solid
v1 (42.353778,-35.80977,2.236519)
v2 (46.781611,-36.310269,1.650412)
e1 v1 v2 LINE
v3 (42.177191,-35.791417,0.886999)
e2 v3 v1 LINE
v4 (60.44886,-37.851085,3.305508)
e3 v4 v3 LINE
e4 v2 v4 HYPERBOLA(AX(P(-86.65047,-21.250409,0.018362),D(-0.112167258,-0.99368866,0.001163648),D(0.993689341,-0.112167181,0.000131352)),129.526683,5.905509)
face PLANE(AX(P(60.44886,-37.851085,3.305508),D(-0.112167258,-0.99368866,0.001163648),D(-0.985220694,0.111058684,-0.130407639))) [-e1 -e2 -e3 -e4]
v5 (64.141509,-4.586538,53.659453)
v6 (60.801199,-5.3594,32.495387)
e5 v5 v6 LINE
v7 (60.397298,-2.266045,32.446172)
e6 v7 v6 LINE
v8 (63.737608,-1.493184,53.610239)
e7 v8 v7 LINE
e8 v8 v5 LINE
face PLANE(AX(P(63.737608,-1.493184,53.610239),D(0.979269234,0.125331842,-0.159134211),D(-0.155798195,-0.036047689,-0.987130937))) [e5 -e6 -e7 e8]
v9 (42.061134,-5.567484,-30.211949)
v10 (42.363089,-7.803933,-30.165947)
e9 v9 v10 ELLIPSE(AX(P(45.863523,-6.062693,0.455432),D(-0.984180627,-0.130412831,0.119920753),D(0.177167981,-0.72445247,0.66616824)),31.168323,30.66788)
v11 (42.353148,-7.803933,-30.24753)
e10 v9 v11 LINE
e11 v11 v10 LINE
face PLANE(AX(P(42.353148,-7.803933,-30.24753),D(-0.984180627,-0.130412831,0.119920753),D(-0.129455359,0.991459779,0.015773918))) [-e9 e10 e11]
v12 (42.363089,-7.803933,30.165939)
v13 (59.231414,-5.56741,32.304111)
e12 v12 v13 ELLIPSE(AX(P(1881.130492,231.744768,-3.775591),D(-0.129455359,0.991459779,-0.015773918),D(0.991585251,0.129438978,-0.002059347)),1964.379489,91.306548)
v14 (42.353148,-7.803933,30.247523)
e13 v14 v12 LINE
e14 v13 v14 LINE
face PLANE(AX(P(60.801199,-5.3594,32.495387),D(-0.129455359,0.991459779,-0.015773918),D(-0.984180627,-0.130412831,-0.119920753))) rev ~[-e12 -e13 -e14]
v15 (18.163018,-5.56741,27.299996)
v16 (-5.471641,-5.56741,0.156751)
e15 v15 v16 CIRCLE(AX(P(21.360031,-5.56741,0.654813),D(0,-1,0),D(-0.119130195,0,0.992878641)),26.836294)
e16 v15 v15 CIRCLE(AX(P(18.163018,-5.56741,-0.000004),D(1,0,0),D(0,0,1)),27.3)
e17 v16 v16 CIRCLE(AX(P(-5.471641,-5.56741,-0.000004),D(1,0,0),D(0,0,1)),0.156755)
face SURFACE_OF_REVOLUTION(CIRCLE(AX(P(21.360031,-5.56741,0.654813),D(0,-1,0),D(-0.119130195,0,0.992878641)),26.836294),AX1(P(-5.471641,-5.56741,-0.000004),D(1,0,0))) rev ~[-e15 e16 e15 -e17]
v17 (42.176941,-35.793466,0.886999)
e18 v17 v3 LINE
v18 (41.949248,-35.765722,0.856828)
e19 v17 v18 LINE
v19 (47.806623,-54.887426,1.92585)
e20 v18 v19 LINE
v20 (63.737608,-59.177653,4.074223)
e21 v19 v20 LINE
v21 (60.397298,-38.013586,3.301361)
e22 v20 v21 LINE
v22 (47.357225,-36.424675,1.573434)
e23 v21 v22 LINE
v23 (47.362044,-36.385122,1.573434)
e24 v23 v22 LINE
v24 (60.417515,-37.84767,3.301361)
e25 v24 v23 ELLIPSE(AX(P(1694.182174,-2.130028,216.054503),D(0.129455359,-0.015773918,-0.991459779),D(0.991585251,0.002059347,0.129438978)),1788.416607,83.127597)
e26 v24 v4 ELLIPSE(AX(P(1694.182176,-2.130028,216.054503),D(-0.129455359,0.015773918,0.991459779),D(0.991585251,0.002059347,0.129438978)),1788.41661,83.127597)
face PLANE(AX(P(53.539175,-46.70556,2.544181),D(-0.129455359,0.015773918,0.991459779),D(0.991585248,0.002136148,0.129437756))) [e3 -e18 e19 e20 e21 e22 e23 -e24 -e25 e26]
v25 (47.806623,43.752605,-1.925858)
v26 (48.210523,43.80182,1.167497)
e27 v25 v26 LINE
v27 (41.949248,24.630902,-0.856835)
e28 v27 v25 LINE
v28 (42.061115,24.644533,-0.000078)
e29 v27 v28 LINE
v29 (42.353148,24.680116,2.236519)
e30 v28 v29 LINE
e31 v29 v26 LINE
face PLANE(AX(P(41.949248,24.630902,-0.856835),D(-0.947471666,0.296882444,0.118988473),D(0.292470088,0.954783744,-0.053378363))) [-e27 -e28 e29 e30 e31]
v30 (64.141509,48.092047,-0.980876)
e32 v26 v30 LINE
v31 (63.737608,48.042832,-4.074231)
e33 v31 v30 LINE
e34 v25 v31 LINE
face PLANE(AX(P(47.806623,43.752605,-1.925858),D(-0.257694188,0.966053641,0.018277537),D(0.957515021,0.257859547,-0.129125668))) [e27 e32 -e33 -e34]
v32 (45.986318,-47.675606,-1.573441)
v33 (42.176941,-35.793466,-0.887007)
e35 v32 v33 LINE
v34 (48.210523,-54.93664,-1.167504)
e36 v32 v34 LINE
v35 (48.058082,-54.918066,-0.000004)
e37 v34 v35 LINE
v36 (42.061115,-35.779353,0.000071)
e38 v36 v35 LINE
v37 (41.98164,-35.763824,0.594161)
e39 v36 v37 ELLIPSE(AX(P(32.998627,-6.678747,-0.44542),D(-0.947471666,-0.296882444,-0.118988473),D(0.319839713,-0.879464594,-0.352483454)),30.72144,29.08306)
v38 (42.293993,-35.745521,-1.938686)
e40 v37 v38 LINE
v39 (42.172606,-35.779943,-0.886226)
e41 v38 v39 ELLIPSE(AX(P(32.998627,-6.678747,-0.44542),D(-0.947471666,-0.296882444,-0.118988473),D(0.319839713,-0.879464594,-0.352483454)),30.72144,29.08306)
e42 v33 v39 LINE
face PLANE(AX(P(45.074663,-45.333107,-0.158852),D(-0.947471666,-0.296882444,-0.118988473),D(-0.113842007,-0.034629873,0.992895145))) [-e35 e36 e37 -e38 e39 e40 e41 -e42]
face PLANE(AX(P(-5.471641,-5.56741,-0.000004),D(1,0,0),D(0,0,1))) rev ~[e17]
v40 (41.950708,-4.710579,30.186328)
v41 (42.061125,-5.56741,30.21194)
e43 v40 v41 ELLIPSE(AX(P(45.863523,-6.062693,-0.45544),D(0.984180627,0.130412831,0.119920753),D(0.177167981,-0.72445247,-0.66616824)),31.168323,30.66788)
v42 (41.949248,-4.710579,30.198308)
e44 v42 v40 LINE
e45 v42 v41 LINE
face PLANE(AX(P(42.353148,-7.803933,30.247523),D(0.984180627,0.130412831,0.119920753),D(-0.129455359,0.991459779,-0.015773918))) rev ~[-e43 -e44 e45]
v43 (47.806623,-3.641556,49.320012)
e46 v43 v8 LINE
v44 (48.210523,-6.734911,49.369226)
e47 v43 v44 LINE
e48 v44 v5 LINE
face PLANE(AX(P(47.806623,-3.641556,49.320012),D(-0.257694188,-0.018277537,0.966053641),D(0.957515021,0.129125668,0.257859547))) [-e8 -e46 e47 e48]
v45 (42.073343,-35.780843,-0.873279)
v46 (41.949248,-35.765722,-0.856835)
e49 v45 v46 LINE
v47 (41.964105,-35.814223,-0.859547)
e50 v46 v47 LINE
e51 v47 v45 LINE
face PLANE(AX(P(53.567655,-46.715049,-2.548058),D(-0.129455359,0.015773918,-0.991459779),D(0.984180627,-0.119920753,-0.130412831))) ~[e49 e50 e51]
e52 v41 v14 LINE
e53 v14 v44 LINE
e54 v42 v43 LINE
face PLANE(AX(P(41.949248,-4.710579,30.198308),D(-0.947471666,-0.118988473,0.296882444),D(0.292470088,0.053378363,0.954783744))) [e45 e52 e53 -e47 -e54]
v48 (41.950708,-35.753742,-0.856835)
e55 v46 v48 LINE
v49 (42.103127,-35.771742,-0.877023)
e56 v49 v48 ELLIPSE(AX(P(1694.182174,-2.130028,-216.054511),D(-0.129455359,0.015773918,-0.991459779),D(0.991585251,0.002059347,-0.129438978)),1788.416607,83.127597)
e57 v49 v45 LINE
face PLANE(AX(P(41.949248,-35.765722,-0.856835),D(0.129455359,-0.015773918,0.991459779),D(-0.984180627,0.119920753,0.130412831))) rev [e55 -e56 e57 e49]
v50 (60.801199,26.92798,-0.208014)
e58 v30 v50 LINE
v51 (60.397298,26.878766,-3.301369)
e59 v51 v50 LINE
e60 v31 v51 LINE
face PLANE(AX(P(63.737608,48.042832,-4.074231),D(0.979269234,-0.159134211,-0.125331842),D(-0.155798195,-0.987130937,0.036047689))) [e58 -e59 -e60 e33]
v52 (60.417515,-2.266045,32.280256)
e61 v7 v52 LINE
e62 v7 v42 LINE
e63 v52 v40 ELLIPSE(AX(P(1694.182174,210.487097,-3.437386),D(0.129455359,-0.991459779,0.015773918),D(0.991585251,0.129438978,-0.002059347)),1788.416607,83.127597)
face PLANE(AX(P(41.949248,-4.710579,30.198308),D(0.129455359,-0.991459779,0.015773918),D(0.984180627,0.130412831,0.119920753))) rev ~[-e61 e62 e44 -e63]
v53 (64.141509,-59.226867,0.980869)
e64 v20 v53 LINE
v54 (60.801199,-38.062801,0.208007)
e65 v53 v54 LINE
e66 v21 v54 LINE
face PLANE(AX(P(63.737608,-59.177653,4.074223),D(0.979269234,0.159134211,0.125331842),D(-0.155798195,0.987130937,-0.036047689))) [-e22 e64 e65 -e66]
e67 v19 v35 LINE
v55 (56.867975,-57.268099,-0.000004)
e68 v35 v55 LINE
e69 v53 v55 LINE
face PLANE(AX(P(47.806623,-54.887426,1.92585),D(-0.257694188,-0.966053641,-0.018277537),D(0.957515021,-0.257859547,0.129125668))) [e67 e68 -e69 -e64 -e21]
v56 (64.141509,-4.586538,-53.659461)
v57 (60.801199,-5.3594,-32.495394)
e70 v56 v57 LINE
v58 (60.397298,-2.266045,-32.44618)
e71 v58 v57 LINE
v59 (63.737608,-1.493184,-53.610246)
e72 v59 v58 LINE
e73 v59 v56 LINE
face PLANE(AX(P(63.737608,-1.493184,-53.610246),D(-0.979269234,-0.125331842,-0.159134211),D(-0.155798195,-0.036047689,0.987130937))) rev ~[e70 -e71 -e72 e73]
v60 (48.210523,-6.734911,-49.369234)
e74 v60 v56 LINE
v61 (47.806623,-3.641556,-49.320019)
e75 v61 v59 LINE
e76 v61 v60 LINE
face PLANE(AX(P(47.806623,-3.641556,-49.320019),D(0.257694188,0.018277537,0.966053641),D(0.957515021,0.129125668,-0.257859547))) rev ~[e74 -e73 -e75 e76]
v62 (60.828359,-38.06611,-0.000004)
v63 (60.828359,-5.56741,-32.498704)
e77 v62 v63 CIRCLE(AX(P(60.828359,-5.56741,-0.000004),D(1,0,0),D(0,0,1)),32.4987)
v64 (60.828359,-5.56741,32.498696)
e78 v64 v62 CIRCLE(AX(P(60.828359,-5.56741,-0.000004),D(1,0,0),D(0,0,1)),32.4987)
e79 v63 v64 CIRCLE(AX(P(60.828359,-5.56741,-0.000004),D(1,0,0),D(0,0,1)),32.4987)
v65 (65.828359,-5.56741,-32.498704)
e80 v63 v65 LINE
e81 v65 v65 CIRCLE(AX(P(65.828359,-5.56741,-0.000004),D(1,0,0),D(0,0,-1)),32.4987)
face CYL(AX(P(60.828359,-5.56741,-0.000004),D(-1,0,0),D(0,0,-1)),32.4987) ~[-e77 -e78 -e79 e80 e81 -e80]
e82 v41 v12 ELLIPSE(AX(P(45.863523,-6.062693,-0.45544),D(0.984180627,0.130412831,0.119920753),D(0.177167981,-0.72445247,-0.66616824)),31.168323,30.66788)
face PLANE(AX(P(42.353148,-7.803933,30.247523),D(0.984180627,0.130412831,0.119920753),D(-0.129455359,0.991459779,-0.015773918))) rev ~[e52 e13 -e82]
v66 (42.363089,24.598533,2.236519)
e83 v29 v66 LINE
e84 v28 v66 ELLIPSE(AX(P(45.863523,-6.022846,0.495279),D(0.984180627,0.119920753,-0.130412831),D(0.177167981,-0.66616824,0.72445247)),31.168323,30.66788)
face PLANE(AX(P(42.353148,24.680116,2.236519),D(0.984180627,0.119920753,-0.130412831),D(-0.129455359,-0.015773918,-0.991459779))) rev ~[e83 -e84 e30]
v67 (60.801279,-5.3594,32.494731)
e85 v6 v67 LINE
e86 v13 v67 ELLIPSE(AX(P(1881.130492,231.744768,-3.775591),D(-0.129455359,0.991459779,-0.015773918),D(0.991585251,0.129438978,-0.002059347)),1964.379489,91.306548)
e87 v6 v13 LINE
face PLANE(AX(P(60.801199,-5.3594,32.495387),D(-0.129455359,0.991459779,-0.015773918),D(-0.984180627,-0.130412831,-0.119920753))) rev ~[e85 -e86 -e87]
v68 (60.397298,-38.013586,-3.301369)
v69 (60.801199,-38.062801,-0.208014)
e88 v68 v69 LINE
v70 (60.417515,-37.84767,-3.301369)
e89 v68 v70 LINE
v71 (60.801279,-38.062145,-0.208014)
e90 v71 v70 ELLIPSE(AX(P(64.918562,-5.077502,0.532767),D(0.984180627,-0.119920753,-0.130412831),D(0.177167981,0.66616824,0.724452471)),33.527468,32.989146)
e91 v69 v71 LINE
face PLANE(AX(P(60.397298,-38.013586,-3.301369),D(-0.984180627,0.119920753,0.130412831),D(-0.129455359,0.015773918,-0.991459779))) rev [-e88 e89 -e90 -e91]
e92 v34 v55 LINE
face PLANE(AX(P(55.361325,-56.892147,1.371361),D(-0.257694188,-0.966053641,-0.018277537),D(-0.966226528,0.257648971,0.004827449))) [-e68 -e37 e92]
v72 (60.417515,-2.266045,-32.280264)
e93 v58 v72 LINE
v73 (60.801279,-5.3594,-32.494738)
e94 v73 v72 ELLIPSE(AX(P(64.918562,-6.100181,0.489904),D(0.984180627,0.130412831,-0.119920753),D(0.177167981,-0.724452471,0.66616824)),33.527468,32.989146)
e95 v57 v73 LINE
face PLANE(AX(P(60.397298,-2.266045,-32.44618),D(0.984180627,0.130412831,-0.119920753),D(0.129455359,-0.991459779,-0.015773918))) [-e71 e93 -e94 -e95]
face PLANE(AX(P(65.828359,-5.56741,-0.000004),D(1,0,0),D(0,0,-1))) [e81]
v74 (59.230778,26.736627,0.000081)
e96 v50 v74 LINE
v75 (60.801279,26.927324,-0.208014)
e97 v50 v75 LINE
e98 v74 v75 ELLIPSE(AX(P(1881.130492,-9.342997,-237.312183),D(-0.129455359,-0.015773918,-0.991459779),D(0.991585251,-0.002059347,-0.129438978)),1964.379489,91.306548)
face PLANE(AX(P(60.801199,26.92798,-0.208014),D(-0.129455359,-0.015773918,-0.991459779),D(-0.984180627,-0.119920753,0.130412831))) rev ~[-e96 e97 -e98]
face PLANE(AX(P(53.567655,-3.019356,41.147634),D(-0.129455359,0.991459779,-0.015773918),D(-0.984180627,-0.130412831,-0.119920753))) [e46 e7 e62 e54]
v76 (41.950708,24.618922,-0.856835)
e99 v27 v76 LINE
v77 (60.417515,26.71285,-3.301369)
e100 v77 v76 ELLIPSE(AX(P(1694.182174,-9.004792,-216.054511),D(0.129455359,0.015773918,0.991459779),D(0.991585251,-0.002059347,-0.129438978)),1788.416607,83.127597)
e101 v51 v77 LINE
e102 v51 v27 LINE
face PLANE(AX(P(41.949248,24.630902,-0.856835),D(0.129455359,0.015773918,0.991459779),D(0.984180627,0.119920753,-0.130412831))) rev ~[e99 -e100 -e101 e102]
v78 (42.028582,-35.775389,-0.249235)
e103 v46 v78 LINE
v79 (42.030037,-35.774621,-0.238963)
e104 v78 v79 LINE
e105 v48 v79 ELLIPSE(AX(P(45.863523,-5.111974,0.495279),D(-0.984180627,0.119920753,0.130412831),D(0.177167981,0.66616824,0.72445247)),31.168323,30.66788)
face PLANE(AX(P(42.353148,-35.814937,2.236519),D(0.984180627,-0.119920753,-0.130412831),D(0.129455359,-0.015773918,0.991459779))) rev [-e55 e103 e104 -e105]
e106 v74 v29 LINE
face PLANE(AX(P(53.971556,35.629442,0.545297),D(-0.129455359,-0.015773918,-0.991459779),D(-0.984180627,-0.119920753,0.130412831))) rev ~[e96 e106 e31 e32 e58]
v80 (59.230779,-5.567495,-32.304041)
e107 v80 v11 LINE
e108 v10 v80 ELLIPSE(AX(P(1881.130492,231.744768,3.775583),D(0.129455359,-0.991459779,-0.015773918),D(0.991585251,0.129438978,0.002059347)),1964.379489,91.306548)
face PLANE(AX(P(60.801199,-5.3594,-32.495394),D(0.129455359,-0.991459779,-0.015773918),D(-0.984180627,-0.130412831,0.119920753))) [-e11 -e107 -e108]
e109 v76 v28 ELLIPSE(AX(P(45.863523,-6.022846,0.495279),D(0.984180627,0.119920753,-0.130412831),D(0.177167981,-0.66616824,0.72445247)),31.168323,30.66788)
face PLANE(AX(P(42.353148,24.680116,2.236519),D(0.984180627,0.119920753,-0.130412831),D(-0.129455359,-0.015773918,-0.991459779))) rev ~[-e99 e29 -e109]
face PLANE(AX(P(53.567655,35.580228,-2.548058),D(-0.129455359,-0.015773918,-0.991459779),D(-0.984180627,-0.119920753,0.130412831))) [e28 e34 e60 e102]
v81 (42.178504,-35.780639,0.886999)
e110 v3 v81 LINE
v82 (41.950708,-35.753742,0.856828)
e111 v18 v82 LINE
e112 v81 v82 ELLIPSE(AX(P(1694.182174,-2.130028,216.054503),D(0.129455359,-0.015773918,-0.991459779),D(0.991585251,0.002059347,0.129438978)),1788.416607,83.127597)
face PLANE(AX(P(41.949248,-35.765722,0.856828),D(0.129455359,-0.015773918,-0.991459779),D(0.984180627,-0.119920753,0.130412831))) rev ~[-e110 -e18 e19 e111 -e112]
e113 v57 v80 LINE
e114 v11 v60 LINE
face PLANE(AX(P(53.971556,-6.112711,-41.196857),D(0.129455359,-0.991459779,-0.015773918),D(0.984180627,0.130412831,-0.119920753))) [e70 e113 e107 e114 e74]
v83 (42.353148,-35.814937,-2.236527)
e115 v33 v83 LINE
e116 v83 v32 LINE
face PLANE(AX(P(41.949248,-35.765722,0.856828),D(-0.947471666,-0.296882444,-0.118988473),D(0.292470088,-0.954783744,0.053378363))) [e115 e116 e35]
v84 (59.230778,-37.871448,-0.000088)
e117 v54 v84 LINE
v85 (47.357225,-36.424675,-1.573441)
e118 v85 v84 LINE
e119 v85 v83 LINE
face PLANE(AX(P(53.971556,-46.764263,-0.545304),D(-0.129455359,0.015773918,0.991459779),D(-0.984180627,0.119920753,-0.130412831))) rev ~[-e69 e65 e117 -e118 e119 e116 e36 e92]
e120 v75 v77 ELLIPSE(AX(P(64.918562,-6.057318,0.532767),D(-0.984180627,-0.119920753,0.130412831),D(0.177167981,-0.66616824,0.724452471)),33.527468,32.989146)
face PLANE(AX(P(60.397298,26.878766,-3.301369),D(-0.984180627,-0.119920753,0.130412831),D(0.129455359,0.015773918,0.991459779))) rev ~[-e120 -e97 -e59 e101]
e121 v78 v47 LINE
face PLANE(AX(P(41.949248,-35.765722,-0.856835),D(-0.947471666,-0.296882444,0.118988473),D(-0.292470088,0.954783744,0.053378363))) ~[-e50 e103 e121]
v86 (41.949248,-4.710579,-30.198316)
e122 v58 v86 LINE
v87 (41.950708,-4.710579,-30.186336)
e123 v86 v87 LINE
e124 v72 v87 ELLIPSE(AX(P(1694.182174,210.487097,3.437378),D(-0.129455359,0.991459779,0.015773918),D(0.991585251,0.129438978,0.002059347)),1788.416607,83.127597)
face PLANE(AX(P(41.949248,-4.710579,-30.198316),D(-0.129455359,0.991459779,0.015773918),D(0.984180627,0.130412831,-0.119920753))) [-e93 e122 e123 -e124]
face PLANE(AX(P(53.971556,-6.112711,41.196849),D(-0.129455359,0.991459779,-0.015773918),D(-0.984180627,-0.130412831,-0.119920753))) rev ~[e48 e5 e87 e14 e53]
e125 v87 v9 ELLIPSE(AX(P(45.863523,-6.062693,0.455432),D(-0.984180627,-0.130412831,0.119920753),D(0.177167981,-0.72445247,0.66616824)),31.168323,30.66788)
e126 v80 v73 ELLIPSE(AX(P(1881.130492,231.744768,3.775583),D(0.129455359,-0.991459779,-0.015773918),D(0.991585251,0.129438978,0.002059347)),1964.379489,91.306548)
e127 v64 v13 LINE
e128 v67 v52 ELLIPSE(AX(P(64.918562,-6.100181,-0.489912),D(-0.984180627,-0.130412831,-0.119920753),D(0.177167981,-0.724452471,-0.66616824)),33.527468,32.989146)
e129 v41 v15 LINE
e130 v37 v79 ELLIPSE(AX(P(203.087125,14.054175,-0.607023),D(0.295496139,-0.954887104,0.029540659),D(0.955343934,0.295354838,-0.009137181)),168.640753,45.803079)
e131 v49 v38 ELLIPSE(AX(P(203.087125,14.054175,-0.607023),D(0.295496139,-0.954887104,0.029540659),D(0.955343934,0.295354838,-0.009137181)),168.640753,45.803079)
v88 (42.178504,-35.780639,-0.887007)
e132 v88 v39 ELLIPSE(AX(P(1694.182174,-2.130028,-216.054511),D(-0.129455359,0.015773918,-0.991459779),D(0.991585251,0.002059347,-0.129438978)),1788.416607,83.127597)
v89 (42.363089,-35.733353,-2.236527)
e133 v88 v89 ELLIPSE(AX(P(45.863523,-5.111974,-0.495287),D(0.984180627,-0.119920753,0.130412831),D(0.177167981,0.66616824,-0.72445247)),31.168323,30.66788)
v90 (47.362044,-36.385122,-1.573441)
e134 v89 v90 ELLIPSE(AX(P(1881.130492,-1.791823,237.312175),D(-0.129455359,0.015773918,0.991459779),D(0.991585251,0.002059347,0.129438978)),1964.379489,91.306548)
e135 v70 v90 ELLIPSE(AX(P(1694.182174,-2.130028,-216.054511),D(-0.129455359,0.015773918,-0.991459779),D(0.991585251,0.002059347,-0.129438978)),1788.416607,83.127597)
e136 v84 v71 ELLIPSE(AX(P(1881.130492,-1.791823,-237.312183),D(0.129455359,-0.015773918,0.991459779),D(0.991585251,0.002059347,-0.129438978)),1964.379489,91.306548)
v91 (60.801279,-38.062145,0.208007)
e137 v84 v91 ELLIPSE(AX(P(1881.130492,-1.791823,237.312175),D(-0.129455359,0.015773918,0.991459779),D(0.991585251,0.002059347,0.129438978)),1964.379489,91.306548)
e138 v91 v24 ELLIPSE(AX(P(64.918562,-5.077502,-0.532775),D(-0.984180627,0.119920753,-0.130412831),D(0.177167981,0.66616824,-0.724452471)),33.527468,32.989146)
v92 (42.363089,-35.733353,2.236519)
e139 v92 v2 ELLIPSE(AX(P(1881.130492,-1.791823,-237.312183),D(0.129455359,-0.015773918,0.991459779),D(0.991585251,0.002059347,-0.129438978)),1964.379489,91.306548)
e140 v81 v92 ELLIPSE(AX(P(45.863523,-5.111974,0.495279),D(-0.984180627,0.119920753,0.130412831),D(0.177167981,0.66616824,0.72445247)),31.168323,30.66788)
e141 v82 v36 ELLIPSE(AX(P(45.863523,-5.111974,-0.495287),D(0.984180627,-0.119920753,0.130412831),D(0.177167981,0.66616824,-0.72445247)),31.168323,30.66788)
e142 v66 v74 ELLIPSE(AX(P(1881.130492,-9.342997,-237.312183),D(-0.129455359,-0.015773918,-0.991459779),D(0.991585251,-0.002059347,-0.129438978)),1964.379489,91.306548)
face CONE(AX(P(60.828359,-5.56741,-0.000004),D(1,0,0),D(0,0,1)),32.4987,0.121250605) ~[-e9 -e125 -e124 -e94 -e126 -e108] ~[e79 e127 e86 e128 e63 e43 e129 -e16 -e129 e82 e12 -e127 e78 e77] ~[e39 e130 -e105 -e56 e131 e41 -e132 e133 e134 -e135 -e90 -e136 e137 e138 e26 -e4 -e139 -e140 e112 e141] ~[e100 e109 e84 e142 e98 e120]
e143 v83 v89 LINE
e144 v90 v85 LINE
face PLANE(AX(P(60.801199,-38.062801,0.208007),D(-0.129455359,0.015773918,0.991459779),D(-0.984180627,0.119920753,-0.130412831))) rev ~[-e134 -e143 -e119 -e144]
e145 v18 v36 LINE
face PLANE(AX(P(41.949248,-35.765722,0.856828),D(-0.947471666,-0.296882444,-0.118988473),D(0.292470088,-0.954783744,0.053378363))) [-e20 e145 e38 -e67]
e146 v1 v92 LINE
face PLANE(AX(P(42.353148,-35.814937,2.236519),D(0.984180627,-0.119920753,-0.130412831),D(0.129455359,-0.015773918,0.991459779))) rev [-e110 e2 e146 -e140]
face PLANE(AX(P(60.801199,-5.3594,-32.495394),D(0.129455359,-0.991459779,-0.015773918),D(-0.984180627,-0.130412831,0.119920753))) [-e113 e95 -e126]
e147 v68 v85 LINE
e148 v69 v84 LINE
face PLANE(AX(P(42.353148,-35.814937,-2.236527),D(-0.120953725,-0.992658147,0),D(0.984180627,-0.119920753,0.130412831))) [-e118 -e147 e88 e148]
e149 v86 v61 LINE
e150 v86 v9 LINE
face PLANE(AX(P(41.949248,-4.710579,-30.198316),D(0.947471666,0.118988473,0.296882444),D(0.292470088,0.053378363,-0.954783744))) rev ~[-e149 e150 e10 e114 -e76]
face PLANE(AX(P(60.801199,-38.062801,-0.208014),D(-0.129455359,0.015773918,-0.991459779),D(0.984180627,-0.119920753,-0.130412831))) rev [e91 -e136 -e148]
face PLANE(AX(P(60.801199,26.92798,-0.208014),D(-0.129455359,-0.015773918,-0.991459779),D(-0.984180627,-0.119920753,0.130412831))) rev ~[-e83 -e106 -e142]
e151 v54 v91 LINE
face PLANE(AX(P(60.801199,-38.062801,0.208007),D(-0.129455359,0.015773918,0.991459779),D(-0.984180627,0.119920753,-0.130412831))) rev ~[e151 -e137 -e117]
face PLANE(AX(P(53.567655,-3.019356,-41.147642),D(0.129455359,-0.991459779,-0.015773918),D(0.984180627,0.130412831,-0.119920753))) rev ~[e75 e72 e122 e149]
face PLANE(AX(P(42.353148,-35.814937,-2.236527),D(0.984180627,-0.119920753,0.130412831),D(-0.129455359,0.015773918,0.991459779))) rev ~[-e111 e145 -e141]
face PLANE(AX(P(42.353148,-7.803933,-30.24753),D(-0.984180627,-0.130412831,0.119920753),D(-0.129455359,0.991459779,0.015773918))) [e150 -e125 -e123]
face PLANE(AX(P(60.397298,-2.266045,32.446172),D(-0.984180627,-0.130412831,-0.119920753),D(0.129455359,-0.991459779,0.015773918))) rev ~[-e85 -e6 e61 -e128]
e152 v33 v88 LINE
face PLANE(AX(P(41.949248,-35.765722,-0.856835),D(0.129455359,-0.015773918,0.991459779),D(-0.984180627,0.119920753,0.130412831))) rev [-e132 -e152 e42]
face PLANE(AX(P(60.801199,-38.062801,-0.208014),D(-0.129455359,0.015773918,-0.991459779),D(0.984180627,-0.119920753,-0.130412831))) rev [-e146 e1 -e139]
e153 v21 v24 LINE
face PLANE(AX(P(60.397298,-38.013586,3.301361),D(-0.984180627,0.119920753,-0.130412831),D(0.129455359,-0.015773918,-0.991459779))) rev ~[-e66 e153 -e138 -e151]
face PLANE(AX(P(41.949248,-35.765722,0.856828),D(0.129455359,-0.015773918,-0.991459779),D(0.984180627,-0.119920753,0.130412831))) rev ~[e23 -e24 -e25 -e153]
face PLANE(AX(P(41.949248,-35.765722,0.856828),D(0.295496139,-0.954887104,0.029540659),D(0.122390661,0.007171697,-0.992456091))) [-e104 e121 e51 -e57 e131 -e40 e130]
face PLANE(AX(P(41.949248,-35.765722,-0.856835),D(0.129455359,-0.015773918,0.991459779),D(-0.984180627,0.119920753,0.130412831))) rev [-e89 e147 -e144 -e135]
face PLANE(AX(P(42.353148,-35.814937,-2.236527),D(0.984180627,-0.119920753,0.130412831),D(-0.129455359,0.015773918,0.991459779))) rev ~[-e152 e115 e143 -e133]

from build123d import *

# Parameters (mm, degrees)
BOSS_EXTRUDE1_DEPTH  = 4
BOSS_EXTRUDE5_DEPTH  = 0.5
CIRPATTERN27_COUNT   = 2
CIRPATTERN28_COUNT   = 2
CIRPATTERN28_ANGLE   = 270
MIRROR5_COPY_1_DEPTH = 4
MIRROR5_COPY_2_DEPTH = 0.5
CUT_EXTRUDE1_DEPTH   = 7.5
CUT_EXTRUDE5_DEPTH   = 7.5
CUT_EXTRUDE8_DEPTH   = 7.5
CUT_EXTRUDE9_DEPTH   = 7.5
SCALE1_SCALE         = 0.78
SKETCH35_R           = 32.4987
BOSS_EXTRUDE6_DEPTH  = 5


with BuildPart() as part:
    # Sketch1 → Revolve1 (revolve)
    with BuildSketch(Plane.XY, mode=Mode.PRIVATE) as revolve1_sk:
        with BuildLine():
            Line((68.355271076, -5.571052632), (68.355271076, 36.093947368))
            Line((68.355271076, 36.093947368), (13.656115926, 29.428947368))
            ThreePointArc((13.656115926, 29.428947368), (-8.192658078, 17.861941693), (-16.644728924, -5.370084567))
            Line((-16.644728924, -5.370084567), (-16.644728924, -5.571052632))
            Line((-16.644728924, -5.571052632), (68.355271076, -5.571052632))
        make_face()
    revolve(revolve1_sk.sketch.rotate(Axis((-16.644728924, -5.571052632, 0), (1, 0, 0)), 90), axis=Axis((-16.644728924, -5.571052632, 0), (1, 0, 0)))



with BuildPart() as body_2:
    # Sketch3 → Boss-Extrude1 (new body)
    with BuildSketch(Plane(origin=(0.689359663, -0.083997315, -5.279598975), x_dir=(0.984180627017453, -0.11992075309071235, 0.13041283058690828), z_dir=(0.12945535873547723, -0.01577391759705046, -0.9914597791228399))):
        Polygon((48.907006258, 38.621427836), (59.41626027, 62.048150042), (80.536298945, 65.037658628), (72.938516553, 38.621427836), align=None)
    boss_extrude1 = extrude(amount=BOSS_EXTRUDE1_DEPTH)


with BuildPart() as part_1:
    add(part.part)

    add(body_2.part)  # Boss-Extrude5 merges body 2
    # Sketch12 → Boss-Extrude5 (add)
    with BuildSketch(Plane(origin=(-4.671405547, -38.337874984, 0), x_dir=(0.9926581468470392, -0.12095372461483828, 0), z_dir=(0.12095372461483828, 0.9926581468470392, 0))):
        Polygon((49.183787896, -1.098502146), (73.010063784, -4.232519427), (73.531715107, -0.266680311), (49.705439218, 2.86733697), align=None)
    boss_extrude5 = extrude(amount=BOSS_EXTRUDE5_DEPTH)

    # CirPattern27: Boss-Extrude1, Boss-Extrude5 ×2 about axis
    cirpattern27_axis = Axis((0, -5.571052632, 0), (1, 0, 0))
    add([boss_extrude1.rotate(cirpattern27_axis, i * 360 / CIRPATTERN27_COUNT) for i in range(1, CIRPATTERN27_COUNT)])
    add([boss_extrude5.rotate(cirpattern27_axis, i * 360 / CIRPATTERN27_COUNT) for i in range(1, CIRPATTERN27_COUNT)])

    # CirPattern28: Boss-Extrude1, Boss-Extrude5 ×2 about axis
    cirpattern28_axis = Axis((0, -5.571052632, 0), (1, 0, 0))
    add([boss_extrude1.rotate(cirpattern28_axis, i * CIRPATTERN28_ANGLE / (CIRPATTERN28_COUNT - 1)) for i in range(1, CIRPATTERN28_COUNT)])
    add([boss_extrude5.rotate(cirpattern28_axis, i * CIRPATTERN28_ANGLE / (CIRPATTERN28_COUNT - 1)) for i in range(1, CIRPATTERN28_COUNT)])

    # Mirror5: Boss-Extrude1, Boss-Extrude5 across plane
    add(boss_extrude1.mirror(Plane.XY))
    add(boss_extrude5.mirror(Plane.XY))

    # Mirror5 copy 1 sketch → Mirror5 copy 1 (add)
    with BuildSketch(Plane(origin=(0.689359663, -10.850651607, 5.487055317), x_dir=(0.984180627017453, 0.13041283058690448, -0.1199207530907165), z_dir=(0.12945535873547723, -0.9914597791228404, -0.01577391759701894))):
        Polygon((48.907006258, -38.621427836), (59.41626027, -62.048150042), (80.536298945, -65.037658628), (72.938516553, -38.621427836), align=None)
    extrude(amount=MIRROR5_COPY_1_DEPTH)

    # Mirror5 copy 2 sketch → Mirror5 copy 2 (add)
    with BuildSketch(Plane(origin=(-4.671405547, -5.571052632, -32.766822353), x_dir=(0.9926581468470392, -3.849360784322416e-15, -0.12095372461483828), z_dir=(0.12095372461483828, 3.155393511496951e-14, 0.9926581468470392))):
        Polygon((49.183787896, 1.098502146), (73.010063784, 4.232519427), (73.531715107, 0.266680311), (49.705439218, -2.86733697), align=None)
    extrude(amount=MIRROR5_COPY_2_DEPTH)

    # Sketch19 → Cut-Extrude1 (cut)
    with BuildSketch(Plane(origin=(1.207181098, -0.147092985, -9.245438092), x_dir=(-0.9915852481222116, -0.002136148499024363, -0.1294377556047779), z_dir=(0.12945535873547703, -0.01577391759705043, -0.99145977912284))):
        Polygon((-67.679175208, -47.235274194), (-71.995880368, -74.381353157), (-48.207029253, -72.13480707), (-43.827344507, -44.302074699), align=None)
    extrude(amount=CUT_EXTRUDE1_DEPTH, mode=Mode.SUBTRACT)

    # Sketch25 → Cut-Extrude5 (cut)
    with BuildSketch(Plane(origin=(0.689359663, -0.083997315, -5.279598975), x_dir=(0.9915852481222117, 0.0021361484990243696, 0.12943775560477816), z_dir=(-0.12945535873547726, 0.015773917597050467, 0.9914597791228399))):
        Polygon((50.891173425, -68.699745189), (71.995880368, -74.381353157), (67.745856954, -47.027055514), (43.827344507, -44.302074699), align=None)
    extrude(amount=CUT_EXTRUDE5_DEPTH, mode=Mode.SUBTRACT)

    # Sketch27 → Cut-Extrude8 (cut)
    with BuildSketch(Plane(origin=(27.301219353, 8.554612251, 3.42863066), x_dir=(-0.1138420069613441, -0.034629872676622354, 0.9928951452038701), z_dir=(-0.9474716659737562, -0.29688244383743123, -0.11898847304688671))):
        Polygon((-1.047061464, -81.100132743), (-2.40192559, -55.459928446), (-6.401425806, -55.574995755), (-5.041488706, -81.311203845), (-3.533903508, -81.231540942), align=None)
    extrude(amount=CUT_EXTRUDE8_DEPTH, mode=Mode.SUBTRACT)

    # Sketch28 → Cut-Extrude9 (cut)
    with BuildSketch(Plane(origin=(-13.685744002, -51.305630722, -0.970692032), x_dir=(-0.9662265281220836, 0.25764897067882825, 0.00482744873453606), z_dir=(-0.25769418750233414, -0.9660536410379842, -0.018277537163565623))):
        Polygon((-89.283438439, -2.656910088), (-88.769166907, -6.623772053), (-66.015638627, -3.548604791), (-66.551372854, 0.415356464), align=None)
    extrude(amount=CUT_EXTRUDE9_DEPTH, mode=Mode.SUBTRACT)


with BuildPart() as part_2:
    # Scale1: scaled about (34.142034643, -5.554496793, -1.7178e-05)
    add(part_1.part.scale(SCALE1_SCALE).moved(Location((7.511247621, -1.221989294, -3.779e-06))))

    # Sketch35 → Boss-Extrude6 (add)
    with BuildSketch(Plane(origin=(60.828359062, 0, 0), x_dir=(0, 0, -1), z_dir=(1, 0, 0))):
        with Locations((3.778e-06, -5.567410349)):
            Circle(SKETCH35_R)
    extrude(amount=BOSS_EXTRUDE6_DEPTH)


solid = part_2.part
